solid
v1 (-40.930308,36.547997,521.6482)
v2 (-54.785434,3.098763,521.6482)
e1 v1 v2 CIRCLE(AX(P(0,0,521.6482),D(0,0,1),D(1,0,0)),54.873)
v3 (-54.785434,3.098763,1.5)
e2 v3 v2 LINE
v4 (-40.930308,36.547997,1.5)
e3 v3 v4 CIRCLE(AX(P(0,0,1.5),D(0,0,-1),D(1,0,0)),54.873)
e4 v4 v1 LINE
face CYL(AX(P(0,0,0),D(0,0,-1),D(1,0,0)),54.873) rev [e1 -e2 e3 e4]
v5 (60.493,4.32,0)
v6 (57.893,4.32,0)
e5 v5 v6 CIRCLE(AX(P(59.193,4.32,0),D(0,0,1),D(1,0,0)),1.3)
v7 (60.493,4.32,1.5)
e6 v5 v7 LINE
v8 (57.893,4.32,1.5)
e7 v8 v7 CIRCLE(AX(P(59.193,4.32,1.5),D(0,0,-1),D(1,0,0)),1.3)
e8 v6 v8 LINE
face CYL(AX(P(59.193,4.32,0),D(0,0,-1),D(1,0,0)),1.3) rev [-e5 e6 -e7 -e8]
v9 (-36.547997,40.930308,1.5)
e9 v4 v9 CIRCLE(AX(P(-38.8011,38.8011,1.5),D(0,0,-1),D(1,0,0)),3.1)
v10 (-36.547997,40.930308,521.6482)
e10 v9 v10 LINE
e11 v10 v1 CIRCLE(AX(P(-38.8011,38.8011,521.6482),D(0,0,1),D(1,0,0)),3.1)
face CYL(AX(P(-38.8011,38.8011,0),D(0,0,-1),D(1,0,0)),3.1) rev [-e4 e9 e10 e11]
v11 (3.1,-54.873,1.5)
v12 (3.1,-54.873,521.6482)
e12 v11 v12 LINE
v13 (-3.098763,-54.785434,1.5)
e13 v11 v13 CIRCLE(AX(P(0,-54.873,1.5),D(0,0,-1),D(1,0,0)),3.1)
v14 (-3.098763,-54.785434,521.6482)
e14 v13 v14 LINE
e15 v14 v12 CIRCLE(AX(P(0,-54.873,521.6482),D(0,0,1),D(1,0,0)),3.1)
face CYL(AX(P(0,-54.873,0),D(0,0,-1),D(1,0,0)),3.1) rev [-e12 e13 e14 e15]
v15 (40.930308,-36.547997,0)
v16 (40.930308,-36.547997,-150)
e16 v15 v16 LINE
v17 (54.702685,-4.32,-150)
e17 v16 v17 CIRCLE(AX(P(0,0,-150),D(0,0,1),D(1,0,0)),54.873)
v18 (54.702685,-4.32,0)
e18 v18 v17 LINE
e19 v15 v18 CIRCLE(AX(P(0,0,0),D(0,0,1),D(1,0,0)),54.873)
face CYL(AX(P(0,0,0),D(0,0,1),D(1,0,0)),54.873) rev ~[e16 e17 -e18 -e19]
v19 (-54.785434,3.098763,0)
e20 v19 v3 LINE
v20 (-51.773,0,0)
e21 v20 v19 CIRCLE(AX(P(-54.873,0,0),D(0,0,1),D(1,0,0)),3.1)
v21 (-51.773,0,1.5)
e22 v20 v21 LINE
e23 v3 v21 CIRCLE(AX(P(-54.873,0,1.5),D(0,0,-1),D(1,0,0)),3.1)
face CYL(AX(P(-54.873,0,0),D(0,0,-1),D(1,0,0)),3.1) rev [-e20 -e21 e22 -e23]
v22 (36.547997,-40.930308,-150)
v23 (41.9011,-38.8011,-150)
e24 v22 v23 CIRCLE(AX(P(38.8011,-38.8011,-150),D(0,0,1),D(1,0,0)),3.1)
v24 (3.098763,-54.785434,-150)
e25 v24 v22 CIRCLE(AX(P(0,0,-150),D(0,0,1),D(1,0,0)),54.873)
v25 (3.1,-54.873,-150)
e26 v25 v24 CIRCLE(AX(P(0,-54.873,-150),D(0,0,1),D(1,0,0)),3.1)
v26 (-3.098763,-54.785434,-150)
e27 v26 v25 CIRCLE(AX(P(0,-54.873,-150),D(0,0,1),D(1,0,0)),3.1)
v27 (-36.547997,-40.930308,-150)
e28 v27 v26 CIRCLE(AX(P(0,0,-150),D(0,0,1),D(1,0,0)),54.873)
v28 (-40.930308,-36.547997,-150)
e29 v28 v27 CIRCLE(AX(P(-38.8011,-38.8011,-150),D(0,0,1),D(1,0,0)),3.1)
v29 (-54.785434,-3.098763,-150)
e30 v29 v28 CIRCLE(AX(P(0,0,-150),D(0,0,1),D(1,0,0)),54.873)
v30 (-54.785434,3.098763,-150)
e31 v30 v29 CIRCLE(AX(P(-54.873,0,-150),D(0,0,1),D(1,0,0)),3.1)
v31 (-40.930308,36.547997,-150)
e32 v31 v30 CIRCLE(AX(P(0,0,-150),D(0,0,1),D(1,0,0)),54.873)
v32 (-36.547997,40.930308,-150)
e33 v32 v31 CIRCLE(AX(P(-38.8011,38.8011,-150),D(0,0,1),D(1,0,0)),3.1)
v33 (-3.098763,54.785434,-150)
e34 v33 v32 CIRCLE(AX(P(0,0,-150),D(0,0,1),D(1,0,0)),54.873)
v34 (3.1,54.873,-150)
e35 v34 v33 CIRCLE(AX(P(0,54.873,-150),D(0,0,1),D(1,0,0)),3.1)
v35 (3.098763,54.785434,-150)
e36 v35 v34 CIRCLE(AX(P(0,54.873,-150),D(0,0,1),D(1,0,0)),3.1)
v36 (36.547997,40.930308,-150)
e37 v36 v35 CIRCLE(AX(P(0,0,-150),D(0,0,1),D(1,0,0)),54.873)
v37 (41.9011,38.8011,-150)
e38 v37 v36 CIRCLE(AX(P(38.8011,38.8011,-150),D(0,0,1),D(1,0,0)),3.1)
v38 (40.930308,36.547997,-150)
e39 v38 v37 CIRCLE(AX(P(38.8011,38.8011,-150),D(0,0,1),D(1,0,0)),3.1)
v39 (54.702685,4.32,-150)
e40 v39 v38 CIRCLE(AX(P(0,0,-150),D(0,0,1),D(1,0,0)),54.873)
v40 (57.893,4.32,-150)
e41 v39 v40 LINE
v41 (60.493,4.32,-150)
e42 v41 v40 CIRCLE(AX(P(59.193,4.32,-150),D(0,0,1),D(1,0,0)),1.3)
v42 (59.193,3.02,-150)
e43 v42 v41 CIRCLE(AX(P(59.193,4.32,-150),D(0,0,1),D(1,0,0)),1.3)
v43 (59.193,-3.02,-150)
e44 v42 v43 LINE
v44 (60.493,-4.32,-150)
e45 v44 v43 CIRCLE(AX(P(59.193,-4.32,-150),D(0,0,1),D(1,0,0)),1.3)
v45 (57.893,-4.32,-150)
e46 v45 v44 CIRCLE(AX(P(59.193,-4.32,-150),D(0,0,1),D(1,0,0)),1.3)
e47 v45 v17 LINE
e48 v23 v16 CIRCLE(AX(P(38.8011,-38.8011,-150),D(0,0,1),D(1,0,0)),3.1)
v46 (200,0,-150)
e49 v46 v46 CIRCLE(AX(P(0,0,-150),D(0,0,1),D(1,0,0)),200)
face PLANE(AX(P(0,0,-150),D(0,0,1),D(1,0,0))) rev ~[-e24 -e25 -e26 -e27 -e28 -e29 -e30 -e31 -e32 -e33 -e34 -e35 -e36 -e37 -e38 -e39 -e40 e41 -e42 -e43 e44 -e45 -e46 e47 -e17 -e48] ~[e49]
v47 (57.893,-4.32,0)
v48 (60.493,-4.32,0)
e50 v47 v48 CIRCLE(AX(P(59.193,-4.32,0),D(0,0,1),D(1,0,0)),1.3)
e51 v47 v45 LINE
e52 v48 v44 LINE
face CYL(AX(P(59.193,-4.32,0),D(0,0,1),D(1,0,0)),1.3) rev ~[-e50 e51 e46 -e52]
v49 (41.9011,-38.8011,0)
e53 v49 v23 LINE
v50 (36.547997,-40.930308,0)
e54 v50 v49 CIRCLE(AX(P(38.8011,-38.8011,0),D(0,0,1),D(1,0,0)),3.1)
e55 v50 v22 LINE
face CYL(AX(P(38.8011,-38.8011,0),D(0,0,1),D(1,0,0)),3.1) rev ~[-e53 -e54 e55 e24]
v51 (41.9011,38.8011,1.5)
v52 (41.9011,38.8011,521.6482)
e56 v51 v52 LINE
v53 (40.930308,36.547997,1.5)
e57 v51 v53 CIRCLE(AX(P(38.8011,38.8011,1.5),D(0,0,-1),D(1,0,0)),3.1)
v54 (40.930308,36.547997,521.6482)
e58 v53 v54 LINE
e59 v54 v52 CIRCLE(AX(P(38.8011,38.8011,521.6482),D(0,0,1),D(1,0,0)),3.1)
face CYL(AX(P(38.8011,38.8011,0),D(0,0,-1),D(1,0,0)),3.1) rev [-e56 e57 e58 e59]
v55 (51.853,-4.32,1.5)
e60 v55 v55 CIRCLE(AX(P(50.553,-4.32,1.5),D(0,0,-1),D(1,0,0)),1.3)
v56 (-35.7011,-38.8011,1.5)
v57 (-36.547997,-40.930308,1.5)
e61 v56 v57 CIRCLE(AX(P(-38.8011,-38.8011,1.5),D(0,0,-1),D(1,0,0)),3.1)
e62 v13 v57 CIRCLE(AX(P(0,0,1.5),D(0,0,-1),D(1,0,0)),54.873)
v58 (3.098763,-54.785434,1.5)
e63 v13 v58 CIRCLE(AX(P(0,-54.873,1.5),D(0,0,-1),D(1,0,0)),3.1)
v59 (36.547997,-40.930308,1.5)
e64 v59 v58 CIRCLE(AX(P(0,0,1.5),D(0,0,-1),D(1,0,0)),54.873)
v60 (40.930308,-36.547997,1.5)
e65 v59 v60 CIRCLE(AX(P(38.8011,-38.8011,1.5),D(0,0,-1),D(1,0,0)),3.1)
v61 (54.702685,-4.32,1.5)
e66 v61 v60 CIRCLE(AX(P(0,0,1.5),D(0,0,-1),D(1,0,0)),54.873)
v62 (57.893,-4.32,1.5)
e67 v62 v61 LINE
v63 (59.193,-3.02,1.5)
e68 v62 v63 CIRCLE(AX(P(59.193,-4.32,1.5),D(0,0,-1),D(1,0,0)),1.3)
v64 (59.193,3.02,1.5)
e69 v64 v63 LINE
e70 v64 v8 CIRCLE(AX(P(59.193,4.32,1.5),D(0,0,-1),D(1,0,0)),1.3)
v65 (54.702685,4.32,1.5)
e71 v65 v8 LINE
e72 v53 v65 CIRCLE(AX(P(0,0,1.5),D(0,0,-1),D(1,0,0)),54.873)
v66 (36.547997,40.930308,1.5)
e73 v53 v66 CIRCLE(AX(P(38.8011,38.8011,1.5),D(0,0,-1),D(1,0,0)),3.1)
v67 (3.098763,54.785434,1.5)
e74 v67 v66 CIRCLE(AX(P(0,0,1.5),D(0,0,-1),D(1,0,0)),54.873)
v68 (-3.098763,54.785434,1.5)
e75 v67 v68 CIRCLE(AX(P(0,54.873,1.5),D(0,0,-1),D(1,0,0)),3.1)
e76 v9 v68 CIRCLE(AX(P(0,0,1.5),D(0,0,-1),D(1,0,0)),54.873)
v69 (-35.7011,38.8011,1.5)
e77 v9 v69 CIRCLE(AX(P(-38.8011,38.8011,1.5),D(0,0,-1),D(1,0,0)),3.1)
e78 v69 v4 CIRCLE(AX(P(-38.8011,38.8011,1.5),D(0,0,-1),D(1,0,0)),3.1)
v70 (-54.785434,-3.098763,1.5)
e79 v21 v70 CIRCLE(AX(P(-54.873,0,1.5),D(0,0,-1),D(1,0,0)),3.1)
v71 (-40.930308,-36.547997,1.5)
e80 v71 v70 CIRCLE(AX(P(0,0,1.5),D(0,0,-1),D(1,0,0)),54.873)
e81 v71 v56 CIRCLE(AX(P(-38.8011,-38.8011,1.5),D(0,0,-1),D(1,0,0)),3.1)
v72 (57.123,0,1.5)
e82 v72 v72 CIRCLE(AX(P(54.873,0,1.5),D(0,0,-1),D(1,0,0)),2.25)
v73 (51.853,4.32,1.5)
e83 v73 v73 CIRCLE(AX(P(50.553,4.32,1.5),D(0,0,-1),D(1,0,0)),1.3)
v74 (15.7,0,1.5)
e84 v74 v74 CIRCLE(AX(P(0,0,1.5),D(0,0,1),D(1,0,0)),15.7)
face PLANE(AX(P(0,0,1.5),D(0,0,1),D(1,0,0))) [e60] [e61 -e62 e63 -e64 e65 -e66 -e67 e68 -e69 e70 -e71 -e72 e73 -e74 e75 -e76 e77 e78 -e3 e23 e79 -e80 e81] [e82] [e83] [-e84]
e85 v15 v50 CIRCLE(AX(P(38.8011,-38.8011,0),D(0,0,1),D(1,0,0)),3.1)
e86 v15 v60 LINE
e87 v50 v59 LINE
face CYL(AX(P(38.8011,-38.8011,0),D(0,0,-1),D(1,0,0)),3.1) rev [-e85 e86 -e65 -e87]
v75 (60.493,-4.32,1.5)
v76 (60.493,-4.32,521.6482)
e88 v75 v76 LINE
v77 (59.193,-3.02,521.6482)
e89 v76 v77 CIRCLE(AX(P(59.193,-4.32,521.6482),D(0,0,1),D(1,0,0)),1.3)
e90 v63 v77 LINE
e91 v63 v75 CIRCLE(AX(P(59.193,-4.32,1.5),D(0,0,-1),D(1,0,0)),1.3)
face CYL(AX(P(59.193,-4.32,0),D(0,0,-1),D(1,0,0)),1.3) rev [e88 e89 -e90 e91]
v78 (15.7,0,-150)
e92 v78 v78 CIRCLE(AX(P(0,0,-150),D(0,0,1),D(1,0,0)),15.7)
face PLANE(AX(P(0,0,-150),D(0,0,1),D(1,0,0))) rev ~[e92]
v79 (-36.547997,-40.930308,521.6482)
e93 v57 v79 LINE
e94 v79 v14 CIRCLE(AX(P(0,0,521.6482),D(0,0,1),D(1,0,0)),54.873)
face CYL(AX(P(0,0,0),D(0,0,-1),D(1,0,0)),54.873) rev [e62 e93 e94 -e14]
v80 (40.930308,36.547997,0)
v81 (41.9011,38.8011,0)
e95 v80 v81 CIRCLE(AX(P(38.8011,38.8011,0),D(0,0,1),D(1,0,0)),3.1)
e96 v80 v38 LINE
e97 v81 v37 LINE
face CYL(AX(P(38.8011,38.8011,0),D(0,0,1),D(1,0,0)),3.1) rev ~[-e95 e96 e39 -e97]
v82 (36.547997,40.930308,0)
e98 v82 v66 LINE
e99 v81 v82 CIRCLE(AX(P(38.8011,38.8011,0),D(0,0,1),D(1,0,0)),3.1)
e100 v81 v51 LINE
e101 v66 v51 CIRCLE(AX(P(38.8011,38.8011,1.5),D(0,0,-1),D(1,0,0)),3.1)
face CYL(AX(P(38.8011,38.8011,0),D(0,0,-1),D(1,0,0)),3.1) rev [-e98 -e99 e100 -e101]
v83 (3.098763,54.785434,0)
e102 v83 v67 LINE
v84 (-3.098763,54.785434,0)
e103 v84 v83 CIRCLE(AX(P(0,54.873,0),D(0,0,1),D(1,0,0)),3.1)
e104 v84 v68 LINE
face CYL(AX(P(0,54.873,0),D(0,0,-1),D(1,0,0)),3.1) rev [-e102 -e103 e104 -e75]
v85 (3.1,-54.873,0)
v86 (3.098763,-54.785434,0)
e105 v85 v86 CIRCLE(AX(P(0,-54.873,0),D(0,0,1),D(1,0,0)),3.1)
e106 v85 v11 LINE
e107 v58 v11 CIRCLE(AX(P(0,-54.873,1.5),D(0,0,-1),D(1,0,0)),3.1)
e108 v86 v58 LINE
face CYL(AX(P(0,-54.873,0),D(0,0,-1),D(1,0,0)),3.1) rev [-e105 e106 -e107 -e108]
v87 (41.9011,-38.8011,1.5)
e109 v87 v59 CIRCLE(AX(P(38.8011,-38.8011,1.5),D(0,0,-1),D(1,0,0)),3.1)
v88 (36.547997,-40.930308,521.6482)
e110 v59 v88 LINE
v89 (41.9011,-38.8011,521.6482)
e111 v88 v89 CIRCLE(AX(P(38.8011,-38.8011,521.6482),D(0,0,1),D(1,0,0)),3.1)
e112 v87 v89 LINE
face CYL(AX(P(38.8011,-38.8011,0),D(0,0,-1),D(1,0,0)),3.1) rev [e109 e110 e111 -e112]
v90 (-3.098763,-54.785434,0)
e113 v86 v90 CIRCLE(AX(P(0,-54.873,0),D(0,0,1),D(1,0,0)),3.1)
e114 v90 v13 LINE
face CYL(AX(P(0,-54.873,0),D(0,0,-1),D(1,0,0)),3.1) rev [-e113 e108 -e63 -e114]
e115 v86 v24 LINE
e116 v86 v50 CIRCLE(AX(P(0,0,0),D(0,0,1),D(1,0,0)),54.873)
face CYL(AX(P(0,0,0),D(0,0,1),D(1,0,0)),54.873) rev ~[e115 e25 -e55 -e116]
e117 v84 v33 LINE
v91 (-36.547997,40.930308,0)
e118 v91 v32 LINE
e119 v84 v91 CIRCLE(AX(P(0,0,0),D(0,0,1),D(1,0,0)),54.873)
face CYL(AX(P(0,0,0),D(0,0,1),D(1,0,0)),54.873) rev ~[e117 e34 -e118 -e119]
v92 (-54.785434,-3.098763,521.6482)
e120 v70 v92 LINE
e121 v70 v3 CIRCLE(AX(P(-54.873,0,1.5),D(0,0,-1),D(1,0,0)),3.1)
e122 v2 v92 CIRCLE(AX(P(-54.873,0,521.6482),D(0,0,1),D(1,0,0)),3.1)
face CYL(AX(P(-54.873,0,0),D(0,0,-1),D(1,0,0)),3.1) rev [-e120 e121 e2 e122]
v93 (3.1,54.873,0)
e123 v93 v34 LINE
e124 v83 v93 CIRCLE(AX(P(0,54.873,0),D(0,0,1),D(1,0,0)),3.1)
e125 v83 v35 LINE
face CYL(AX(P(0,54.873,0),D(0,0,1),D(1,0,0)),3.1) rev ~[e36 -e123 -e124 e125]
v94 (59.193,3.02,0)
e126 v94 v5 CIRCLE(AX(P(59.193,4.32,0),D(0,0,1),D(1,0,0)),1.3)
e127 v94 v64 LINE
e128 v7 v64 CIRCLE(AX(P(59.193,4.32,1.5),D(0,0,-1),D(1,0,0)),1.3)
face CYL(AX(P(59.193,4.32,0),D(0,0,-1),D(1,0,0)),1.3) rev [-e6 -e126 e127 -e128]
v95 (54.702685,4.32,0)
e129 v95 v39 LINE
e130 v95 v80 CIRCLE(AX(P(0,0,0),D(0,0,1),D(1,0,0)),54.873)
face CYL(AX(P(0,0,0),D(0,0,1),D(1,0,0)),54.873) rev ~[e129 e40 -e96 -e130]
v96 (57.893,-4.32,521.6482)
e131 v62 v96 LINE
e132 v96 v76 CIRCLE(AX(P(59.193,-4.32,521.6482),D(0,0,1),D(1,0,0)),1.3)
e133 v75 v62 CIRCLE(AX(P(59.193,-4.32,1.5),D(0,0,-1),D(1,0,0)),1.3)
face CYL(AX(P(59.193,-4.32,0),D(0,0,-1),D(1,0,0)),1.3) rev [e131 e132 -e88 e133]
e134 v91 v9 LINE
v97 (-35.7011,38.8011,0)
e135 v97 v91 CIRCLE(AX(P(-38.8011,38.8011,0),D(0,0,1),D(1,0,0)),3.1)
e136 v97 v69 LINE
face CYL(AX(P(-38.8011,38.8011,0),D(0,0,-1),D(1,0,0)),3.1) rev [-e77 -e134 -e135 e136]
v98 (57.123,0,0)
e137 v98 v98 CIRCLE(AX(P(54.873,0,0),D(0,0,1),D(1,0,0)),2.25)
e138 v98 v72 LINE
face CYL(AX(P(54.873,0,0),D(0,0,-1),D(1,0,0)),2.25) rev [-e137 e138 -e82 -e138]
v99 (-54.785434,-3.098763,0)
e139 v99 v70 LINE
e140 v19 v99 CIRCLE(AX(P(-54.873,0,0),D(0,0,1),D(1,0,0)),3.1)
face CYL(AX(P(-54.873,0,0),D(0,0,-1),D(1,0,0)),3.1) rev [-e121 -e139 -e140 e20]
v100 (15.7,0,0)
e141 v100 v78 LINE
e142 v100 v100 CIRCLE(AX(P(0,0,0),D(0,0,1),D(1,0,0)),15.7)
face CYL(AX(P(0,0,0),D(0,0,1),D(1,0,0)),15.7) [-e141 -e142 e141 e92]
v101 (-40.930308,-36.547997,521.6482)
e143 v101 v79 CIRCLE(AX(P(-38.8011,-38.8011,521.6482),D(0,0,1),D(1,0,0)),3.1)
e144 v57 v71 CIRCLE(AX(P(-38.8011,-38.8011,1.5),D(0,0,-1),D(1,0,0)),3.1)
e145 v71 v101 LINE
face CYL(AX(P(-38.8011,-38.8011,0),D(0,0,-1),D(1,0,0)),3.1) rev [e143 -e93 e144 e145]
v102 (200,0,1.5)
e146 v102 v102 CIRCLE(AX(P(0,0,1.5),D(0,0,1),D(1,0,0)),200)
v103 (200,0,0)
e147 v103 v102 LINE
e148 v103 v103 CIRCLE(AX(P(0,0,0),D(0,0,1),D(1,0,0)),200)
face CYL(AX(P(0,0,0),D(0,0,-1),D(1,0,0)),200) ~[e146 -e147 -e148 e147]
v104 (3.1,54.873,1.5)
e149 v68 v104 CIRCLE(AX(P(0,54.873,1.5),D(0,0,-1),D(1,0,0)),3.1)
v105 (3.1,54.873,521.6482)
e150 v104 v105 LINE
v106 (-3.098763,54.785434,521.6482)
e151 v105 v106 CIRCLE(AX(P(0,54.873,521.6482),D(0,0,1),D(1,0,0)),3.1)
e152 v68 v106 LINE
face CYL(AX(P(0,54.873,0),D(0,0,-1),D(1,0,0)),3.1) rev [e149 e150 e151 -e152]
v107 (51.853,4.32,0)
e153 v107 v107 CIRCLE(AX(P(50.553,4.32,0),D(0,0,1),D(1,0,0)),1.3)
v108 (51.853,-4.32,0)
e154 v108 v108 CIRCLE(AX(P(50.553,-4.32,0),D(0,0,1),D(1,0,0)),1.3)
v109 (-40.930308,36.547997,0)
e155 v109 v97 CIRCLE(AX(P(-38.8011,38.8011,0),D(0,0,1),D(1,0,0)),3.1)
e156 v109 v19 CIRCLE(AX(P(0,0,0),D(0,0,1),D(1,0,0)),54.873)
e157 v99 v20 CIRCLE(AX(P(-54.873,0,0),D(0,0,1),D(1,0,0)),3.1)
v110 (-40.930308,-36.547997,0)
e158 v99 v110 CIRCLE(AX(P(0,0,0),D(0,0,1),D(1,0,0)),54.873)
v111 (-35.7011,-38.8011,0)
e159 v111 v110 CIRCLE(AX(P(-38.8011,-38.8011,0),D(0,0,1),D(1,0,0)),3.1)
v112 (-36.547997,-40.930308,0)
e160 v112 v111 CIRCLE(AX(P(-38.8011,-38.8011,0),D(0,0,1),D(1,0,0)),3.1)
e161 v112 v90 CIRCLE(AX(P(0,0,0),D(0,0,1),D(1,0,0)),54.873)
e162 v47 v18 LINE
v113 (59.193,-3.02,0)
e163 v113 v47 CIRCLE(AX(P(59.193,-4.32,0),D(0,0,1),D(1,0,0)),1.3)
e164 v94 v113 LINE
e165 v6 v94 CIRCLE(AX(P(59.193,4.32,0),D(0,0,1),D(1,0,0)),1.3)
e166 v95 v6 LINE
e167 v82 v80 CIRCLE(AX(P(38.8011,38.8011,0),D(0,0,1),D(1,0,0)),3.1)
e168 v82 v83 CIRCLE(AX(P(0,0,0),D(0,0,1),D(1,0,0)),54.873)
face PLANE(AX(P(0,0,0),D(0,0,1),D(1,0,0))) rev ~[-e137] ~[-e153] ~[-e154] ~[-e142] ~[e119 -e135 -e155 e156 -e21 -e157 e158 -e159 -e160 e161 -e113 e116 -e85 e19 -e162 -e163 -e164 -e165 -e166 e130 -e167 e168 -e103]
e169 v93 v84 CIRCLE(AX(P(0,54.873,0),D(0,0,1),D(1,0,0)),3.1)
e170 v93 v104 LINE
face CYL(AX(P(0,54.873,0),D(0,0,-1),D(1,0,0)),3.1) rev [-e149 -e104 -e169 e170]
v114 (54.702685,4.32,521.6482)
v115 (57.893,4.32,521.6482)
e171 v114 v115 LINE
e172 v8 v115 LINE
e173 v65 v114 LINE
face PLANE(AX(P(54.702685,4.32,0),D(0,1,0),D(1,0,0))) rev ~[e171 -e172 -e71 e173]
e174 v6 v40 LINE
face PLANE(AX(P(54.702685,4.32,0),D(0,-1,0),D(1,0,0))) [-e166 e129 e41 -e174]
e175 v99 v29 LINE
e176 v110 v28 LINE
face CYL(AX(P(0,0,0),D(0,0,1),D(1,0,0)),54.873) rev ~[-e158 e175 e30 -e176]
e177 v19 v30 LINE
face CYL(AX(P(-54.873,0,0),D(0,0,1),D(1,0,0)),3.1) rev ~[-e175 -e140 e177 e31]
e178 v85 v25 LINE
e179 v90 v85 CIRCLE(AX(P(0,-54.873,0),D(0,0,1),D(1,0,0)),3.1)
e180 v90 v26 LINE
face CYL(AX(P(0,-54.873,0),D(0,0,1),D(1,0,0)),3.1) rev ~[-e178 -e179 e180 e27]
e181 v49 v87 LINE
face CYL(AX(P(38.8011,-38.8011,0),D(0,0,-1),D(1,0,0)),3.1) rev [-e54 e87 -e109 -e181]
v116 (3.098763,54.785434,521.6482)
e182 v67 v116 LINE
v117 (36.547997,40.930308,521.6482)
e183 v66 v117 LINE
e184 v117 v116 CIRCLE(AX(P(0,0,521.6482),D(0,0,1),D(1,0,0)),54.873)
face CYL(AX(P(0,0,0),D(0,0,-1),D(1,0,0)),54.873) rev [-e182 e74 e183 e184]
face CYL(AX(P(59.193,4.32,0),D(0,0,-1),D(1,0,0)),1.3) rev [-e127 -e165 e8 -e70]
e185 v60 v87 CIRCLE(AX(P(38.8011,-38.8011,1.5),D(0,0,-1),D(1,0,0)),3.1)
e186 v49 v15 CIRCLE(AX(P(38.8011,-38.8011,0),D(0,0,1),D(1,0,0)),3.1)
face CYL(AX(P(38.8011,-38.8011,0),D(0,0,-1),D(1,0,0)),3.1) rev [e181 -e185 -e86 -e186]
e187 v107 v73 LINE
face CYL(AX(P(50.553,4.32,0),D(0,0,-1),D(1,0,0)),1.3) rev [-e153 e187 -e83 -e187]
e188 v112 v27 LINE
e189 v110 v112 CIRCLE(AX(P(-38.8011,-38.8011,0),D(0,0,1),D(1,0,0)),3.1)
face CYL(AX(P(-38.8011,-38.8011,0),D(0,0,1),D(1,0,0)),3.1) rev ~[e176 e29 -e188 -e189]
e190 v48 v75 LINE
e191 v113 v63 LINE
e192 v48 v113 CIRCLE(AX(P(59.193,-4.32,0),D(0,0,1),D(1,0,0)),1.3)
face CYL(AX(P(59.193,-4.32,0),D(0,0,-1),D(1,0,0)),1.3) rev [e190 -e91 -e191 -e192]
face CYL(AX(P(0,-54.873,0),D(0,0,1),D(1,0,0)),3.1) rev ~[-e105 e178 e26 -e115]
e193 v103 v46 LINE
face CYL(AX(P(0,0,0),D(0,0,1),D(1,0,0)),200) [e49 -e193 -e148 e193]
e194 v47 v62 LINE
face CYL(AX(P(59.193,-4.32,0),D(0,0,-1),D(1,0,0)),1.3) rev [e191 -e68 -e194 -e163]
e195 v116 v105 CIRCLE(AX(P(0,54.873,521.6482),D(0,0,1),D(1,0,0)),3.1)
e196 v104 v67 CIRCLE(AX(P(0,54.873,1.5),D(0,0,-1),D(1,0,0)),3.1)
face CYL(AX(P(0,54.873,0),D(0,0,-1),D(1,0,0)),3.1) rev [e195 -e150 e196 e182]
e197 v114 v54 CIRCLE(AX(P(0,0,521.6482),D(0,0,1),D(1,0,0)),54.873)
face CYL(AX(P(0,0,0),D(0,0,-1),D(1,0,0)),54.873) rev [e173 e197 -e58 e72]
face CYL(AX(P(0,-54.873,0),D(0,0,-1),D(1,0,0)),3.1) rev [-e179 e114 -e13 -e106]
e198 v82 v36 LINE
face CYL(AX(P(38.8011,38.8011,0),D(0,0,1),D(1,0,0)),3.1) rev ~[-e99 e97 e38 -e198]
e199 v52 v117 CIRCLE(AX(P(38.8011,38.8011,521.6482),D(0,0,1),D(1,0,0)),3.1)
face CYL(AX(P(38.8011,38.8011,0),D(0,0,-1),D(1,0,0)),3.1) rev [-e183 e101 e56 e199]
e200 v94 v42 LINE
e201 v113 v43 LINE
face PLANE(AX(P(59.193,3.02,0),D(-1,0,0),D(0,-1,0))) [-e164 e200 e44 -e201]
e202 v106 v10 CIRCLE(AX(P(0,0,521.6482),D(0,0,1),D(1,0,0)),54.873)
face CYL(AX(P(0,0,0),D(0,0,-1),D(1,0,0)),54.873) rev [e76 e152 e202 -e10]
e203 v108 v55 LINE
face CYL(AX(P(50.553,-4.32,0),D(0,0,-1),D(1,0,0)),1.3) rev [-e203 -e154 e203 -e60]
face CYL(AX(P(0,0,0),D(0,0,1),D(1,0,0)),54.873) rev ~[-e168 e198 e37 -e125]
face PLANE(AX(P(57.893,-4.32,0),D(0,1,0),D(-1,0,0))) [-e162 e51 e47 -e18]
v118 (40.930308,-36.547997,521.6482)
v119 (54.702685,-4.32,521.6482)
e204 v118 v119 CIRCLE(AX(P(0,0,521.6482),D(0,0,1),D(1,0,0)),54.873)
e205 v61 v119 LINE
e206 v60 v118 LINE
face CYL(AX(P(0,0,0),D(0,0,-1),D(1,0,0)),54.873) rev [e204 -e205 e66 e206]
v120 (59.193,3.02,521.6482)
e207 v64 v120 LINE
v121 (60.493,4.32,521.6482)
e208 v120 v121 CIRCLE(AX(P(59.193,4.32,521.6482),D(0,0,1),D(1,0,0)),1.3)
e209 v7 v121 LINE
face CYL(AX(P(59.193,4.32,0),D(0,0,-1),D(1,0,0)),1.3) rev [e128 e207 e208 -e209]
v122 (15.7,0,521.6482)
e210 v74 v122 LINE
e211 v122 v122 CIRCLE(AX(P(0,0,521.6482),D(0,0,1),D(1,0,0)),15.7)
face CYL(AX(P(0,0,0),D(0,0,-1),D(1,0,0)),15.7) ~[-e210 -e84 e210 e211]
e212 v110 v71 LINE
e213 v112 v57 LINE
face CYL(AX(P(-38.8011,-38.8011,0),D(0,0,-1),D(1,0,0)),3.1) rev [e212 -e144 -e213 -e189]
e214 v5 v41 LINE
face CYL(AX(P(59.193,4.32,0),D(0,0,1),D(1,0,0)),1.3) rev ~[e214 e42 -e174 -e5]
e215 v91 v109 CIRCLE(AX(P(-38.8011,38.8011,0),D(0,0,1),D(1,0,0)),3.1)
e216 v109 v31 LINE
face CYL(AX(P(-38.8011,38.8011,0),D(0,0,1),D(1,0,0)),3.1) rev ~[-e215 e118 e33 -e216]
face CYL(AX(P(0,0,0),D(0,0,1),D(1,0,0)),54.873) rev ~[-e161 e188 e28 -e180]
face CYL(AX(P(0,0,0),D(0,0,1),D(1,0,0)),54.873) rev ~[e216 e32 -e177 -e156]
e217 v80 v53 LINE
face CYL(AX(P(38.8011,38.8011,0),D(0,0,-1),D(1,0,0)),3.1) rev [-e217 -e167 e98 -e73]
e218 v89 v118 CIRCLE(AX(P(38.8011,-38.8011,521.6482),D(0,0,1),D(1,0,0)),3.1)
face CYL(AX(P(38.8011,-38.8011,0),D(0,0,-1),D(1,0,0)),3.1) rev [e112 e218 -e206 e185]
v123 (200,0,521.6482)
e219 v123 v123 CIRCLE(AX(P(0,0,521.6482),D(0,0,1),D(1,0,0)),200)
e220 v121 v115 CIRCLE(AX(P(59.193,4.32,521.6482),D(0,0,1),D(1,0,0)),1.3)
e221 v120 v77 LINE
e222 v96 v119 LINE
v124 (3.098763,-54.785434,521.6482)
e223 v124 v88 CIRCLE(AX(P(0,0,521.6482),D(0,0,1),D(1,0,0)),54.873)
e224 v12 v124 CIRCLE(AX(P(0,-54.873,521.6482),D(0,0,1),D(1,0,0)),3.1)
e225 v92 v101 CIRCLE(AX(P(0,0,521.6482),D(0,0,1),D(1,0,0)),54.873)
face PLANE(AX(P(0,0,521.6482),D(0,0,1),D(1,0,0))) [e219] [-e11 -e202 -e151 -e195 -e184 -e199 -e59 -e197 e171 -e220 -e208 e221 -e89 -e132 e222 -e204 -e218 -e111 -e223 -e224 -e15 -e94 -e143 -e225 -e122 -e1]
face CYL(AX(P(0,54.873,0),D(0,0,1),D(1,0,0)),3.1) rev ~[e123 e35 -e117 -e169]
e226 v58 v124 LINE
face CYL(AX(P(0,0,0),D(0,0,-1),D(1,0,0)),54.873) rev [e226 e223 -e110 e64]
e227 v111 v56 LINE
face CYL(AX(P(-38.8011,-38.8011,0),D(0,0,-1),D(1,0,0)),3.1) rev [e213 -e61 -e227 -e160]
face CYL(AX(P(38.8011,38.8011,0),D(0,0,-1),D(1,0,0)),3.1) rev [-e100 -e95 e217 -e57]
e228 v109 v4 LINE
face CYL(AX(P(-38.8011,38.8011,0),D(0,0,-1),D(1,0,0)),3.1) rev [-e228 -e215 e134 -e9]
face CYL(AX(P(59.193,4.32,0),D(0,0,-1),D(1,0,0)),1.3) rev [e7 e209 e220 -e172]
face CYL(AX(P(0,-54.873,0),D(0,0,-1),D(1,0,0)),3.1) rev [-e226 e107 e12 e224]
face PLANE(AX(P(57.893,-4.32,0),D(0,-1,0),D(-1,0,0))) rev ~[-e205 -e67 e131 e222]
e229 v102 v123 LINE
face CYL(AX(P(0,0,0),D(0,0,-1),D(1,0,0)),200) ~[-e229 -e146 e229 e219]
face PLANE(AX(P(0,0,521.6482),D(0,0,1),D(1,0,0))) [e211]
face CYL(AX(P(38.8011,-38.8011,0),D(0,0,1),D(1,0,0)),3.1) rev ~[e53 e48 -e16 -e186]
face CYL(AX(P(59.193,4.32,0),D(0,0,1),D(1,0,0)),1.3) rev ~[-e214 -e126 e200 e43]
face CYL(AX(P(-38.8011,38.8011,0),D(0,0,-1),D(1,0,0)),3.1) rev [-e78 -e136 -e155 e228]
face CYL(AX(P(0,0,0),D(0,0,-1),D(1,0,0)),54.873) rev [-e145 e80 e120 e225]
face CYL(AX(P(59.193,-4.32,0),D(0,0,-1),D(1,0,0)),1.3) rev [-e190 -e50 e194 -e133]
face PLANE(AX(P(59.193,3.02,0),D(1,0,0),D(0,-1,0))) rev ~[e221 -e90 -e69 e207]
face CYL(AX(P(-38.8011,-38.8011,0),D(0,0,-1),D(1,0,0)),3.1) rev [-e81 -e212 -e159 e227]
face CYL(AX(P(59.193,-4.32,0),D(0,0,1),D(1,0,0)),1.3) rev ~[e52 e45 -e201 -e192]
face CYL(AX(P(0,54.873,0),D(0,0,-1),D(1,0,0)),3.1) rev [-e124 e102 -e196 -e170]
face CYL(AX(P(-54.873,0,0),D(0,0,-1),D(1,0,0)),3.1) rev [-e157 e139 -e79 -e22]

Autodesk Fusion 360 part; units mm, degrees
sketch "Skizze1" plane through (0, 0, 0) normal (0, 0, 1) x (1, 0, 0)
  circle A0 centre (0, 0) radius 14
  circle A1 centre (0, 0) radius 15.5
  dimension "d1" = 28
  dimension "d2" = 31
extrude "Extrusion1" add sketch "Skizze1" along normal blind 521.6482 and the other way blind 150
equation "d3 = 40 mm + ( 13.25 * 36.2376 ) * 1 mm + 4.5 mm - 3 mm"

Autodesk Fusion 360 part; units mm, degrees
sketch "Skizze1" plane through (0, 0, 0) normal (0, 0, 1) x (1, 0, 0)
  circle A0 centre (0, 0) radius 200
  circle A1 centre (0, 0) radius 15.7
  circle A2 centre (0, 0) radius 54.873
  line L0 (50.553, -4.32) -> (50.553, 4.32)
  circle A3 centre (50.553, -4.32) radius 1.3
  circle A4 centre (59.193, -4.32) radius 1.3
  line L1 (50.553, -4.32) -> (59.193, 4.32) construction
  line L2 (50.553, 4.32) -> (59.193, 4.32)
  line L3 (59.193, -4.32) -> (50.553, 4.32) construction
  line L4 (59.193, 4.32) -> (59.193, -4.32)
  circle A5 centre (50.553, 4.32) radius 1.3
  circle A6 centre (54.873, 0) radius 2.25
  line L5 (59.193, -4.32) -> (50.553, -4.32)
  circle A7 centre (59.193, 4.32) radius 1.3
  circle A8 centre (-54.873, 0) radius 3.1
  circle A9 centre (38.8011, 38.8011) radius 3.1
  circle A10 centre (0, 54.873) radius 3.1
  circle A11 centre (-38.8011, 38.8011) radius 3.1
  circle A12 centre (-38.8011, -38.8011) radius 3.1
  circle A13 centre (0, -54.873) radius 3.1
  circle A14 centre (38.8011, -38.8011) radius 3.1
  point P0 (54.873, 0)
  point P1 (54.873, 0)
  dimension "d1" = 400
  dimension "d2" = 31.4
  dimension "d3" = 109.746
  dimension "d6" = 4.5
  dimension "d7" = 8.64
  dimension "d8" = 8.64
  dimension "d9" = 2.6
  dimension "d10" = 2.6
  dimension "d11" = 2.6
  dimension "d12" = 2.6
  dimension "d13" = 6.2
  dimension "d15" = 270
extrude "Extrusion1" add sketch "Skizze1" along normal blind 1.5 contours A0 | A2 L0 A3 L2 A5 A6 L5 | A2 A4 L2 L4 A6 L5 A7 | A2 L0 A3 L2 A5 L5 A8 A9 A10 A11 A12 A13 A14
